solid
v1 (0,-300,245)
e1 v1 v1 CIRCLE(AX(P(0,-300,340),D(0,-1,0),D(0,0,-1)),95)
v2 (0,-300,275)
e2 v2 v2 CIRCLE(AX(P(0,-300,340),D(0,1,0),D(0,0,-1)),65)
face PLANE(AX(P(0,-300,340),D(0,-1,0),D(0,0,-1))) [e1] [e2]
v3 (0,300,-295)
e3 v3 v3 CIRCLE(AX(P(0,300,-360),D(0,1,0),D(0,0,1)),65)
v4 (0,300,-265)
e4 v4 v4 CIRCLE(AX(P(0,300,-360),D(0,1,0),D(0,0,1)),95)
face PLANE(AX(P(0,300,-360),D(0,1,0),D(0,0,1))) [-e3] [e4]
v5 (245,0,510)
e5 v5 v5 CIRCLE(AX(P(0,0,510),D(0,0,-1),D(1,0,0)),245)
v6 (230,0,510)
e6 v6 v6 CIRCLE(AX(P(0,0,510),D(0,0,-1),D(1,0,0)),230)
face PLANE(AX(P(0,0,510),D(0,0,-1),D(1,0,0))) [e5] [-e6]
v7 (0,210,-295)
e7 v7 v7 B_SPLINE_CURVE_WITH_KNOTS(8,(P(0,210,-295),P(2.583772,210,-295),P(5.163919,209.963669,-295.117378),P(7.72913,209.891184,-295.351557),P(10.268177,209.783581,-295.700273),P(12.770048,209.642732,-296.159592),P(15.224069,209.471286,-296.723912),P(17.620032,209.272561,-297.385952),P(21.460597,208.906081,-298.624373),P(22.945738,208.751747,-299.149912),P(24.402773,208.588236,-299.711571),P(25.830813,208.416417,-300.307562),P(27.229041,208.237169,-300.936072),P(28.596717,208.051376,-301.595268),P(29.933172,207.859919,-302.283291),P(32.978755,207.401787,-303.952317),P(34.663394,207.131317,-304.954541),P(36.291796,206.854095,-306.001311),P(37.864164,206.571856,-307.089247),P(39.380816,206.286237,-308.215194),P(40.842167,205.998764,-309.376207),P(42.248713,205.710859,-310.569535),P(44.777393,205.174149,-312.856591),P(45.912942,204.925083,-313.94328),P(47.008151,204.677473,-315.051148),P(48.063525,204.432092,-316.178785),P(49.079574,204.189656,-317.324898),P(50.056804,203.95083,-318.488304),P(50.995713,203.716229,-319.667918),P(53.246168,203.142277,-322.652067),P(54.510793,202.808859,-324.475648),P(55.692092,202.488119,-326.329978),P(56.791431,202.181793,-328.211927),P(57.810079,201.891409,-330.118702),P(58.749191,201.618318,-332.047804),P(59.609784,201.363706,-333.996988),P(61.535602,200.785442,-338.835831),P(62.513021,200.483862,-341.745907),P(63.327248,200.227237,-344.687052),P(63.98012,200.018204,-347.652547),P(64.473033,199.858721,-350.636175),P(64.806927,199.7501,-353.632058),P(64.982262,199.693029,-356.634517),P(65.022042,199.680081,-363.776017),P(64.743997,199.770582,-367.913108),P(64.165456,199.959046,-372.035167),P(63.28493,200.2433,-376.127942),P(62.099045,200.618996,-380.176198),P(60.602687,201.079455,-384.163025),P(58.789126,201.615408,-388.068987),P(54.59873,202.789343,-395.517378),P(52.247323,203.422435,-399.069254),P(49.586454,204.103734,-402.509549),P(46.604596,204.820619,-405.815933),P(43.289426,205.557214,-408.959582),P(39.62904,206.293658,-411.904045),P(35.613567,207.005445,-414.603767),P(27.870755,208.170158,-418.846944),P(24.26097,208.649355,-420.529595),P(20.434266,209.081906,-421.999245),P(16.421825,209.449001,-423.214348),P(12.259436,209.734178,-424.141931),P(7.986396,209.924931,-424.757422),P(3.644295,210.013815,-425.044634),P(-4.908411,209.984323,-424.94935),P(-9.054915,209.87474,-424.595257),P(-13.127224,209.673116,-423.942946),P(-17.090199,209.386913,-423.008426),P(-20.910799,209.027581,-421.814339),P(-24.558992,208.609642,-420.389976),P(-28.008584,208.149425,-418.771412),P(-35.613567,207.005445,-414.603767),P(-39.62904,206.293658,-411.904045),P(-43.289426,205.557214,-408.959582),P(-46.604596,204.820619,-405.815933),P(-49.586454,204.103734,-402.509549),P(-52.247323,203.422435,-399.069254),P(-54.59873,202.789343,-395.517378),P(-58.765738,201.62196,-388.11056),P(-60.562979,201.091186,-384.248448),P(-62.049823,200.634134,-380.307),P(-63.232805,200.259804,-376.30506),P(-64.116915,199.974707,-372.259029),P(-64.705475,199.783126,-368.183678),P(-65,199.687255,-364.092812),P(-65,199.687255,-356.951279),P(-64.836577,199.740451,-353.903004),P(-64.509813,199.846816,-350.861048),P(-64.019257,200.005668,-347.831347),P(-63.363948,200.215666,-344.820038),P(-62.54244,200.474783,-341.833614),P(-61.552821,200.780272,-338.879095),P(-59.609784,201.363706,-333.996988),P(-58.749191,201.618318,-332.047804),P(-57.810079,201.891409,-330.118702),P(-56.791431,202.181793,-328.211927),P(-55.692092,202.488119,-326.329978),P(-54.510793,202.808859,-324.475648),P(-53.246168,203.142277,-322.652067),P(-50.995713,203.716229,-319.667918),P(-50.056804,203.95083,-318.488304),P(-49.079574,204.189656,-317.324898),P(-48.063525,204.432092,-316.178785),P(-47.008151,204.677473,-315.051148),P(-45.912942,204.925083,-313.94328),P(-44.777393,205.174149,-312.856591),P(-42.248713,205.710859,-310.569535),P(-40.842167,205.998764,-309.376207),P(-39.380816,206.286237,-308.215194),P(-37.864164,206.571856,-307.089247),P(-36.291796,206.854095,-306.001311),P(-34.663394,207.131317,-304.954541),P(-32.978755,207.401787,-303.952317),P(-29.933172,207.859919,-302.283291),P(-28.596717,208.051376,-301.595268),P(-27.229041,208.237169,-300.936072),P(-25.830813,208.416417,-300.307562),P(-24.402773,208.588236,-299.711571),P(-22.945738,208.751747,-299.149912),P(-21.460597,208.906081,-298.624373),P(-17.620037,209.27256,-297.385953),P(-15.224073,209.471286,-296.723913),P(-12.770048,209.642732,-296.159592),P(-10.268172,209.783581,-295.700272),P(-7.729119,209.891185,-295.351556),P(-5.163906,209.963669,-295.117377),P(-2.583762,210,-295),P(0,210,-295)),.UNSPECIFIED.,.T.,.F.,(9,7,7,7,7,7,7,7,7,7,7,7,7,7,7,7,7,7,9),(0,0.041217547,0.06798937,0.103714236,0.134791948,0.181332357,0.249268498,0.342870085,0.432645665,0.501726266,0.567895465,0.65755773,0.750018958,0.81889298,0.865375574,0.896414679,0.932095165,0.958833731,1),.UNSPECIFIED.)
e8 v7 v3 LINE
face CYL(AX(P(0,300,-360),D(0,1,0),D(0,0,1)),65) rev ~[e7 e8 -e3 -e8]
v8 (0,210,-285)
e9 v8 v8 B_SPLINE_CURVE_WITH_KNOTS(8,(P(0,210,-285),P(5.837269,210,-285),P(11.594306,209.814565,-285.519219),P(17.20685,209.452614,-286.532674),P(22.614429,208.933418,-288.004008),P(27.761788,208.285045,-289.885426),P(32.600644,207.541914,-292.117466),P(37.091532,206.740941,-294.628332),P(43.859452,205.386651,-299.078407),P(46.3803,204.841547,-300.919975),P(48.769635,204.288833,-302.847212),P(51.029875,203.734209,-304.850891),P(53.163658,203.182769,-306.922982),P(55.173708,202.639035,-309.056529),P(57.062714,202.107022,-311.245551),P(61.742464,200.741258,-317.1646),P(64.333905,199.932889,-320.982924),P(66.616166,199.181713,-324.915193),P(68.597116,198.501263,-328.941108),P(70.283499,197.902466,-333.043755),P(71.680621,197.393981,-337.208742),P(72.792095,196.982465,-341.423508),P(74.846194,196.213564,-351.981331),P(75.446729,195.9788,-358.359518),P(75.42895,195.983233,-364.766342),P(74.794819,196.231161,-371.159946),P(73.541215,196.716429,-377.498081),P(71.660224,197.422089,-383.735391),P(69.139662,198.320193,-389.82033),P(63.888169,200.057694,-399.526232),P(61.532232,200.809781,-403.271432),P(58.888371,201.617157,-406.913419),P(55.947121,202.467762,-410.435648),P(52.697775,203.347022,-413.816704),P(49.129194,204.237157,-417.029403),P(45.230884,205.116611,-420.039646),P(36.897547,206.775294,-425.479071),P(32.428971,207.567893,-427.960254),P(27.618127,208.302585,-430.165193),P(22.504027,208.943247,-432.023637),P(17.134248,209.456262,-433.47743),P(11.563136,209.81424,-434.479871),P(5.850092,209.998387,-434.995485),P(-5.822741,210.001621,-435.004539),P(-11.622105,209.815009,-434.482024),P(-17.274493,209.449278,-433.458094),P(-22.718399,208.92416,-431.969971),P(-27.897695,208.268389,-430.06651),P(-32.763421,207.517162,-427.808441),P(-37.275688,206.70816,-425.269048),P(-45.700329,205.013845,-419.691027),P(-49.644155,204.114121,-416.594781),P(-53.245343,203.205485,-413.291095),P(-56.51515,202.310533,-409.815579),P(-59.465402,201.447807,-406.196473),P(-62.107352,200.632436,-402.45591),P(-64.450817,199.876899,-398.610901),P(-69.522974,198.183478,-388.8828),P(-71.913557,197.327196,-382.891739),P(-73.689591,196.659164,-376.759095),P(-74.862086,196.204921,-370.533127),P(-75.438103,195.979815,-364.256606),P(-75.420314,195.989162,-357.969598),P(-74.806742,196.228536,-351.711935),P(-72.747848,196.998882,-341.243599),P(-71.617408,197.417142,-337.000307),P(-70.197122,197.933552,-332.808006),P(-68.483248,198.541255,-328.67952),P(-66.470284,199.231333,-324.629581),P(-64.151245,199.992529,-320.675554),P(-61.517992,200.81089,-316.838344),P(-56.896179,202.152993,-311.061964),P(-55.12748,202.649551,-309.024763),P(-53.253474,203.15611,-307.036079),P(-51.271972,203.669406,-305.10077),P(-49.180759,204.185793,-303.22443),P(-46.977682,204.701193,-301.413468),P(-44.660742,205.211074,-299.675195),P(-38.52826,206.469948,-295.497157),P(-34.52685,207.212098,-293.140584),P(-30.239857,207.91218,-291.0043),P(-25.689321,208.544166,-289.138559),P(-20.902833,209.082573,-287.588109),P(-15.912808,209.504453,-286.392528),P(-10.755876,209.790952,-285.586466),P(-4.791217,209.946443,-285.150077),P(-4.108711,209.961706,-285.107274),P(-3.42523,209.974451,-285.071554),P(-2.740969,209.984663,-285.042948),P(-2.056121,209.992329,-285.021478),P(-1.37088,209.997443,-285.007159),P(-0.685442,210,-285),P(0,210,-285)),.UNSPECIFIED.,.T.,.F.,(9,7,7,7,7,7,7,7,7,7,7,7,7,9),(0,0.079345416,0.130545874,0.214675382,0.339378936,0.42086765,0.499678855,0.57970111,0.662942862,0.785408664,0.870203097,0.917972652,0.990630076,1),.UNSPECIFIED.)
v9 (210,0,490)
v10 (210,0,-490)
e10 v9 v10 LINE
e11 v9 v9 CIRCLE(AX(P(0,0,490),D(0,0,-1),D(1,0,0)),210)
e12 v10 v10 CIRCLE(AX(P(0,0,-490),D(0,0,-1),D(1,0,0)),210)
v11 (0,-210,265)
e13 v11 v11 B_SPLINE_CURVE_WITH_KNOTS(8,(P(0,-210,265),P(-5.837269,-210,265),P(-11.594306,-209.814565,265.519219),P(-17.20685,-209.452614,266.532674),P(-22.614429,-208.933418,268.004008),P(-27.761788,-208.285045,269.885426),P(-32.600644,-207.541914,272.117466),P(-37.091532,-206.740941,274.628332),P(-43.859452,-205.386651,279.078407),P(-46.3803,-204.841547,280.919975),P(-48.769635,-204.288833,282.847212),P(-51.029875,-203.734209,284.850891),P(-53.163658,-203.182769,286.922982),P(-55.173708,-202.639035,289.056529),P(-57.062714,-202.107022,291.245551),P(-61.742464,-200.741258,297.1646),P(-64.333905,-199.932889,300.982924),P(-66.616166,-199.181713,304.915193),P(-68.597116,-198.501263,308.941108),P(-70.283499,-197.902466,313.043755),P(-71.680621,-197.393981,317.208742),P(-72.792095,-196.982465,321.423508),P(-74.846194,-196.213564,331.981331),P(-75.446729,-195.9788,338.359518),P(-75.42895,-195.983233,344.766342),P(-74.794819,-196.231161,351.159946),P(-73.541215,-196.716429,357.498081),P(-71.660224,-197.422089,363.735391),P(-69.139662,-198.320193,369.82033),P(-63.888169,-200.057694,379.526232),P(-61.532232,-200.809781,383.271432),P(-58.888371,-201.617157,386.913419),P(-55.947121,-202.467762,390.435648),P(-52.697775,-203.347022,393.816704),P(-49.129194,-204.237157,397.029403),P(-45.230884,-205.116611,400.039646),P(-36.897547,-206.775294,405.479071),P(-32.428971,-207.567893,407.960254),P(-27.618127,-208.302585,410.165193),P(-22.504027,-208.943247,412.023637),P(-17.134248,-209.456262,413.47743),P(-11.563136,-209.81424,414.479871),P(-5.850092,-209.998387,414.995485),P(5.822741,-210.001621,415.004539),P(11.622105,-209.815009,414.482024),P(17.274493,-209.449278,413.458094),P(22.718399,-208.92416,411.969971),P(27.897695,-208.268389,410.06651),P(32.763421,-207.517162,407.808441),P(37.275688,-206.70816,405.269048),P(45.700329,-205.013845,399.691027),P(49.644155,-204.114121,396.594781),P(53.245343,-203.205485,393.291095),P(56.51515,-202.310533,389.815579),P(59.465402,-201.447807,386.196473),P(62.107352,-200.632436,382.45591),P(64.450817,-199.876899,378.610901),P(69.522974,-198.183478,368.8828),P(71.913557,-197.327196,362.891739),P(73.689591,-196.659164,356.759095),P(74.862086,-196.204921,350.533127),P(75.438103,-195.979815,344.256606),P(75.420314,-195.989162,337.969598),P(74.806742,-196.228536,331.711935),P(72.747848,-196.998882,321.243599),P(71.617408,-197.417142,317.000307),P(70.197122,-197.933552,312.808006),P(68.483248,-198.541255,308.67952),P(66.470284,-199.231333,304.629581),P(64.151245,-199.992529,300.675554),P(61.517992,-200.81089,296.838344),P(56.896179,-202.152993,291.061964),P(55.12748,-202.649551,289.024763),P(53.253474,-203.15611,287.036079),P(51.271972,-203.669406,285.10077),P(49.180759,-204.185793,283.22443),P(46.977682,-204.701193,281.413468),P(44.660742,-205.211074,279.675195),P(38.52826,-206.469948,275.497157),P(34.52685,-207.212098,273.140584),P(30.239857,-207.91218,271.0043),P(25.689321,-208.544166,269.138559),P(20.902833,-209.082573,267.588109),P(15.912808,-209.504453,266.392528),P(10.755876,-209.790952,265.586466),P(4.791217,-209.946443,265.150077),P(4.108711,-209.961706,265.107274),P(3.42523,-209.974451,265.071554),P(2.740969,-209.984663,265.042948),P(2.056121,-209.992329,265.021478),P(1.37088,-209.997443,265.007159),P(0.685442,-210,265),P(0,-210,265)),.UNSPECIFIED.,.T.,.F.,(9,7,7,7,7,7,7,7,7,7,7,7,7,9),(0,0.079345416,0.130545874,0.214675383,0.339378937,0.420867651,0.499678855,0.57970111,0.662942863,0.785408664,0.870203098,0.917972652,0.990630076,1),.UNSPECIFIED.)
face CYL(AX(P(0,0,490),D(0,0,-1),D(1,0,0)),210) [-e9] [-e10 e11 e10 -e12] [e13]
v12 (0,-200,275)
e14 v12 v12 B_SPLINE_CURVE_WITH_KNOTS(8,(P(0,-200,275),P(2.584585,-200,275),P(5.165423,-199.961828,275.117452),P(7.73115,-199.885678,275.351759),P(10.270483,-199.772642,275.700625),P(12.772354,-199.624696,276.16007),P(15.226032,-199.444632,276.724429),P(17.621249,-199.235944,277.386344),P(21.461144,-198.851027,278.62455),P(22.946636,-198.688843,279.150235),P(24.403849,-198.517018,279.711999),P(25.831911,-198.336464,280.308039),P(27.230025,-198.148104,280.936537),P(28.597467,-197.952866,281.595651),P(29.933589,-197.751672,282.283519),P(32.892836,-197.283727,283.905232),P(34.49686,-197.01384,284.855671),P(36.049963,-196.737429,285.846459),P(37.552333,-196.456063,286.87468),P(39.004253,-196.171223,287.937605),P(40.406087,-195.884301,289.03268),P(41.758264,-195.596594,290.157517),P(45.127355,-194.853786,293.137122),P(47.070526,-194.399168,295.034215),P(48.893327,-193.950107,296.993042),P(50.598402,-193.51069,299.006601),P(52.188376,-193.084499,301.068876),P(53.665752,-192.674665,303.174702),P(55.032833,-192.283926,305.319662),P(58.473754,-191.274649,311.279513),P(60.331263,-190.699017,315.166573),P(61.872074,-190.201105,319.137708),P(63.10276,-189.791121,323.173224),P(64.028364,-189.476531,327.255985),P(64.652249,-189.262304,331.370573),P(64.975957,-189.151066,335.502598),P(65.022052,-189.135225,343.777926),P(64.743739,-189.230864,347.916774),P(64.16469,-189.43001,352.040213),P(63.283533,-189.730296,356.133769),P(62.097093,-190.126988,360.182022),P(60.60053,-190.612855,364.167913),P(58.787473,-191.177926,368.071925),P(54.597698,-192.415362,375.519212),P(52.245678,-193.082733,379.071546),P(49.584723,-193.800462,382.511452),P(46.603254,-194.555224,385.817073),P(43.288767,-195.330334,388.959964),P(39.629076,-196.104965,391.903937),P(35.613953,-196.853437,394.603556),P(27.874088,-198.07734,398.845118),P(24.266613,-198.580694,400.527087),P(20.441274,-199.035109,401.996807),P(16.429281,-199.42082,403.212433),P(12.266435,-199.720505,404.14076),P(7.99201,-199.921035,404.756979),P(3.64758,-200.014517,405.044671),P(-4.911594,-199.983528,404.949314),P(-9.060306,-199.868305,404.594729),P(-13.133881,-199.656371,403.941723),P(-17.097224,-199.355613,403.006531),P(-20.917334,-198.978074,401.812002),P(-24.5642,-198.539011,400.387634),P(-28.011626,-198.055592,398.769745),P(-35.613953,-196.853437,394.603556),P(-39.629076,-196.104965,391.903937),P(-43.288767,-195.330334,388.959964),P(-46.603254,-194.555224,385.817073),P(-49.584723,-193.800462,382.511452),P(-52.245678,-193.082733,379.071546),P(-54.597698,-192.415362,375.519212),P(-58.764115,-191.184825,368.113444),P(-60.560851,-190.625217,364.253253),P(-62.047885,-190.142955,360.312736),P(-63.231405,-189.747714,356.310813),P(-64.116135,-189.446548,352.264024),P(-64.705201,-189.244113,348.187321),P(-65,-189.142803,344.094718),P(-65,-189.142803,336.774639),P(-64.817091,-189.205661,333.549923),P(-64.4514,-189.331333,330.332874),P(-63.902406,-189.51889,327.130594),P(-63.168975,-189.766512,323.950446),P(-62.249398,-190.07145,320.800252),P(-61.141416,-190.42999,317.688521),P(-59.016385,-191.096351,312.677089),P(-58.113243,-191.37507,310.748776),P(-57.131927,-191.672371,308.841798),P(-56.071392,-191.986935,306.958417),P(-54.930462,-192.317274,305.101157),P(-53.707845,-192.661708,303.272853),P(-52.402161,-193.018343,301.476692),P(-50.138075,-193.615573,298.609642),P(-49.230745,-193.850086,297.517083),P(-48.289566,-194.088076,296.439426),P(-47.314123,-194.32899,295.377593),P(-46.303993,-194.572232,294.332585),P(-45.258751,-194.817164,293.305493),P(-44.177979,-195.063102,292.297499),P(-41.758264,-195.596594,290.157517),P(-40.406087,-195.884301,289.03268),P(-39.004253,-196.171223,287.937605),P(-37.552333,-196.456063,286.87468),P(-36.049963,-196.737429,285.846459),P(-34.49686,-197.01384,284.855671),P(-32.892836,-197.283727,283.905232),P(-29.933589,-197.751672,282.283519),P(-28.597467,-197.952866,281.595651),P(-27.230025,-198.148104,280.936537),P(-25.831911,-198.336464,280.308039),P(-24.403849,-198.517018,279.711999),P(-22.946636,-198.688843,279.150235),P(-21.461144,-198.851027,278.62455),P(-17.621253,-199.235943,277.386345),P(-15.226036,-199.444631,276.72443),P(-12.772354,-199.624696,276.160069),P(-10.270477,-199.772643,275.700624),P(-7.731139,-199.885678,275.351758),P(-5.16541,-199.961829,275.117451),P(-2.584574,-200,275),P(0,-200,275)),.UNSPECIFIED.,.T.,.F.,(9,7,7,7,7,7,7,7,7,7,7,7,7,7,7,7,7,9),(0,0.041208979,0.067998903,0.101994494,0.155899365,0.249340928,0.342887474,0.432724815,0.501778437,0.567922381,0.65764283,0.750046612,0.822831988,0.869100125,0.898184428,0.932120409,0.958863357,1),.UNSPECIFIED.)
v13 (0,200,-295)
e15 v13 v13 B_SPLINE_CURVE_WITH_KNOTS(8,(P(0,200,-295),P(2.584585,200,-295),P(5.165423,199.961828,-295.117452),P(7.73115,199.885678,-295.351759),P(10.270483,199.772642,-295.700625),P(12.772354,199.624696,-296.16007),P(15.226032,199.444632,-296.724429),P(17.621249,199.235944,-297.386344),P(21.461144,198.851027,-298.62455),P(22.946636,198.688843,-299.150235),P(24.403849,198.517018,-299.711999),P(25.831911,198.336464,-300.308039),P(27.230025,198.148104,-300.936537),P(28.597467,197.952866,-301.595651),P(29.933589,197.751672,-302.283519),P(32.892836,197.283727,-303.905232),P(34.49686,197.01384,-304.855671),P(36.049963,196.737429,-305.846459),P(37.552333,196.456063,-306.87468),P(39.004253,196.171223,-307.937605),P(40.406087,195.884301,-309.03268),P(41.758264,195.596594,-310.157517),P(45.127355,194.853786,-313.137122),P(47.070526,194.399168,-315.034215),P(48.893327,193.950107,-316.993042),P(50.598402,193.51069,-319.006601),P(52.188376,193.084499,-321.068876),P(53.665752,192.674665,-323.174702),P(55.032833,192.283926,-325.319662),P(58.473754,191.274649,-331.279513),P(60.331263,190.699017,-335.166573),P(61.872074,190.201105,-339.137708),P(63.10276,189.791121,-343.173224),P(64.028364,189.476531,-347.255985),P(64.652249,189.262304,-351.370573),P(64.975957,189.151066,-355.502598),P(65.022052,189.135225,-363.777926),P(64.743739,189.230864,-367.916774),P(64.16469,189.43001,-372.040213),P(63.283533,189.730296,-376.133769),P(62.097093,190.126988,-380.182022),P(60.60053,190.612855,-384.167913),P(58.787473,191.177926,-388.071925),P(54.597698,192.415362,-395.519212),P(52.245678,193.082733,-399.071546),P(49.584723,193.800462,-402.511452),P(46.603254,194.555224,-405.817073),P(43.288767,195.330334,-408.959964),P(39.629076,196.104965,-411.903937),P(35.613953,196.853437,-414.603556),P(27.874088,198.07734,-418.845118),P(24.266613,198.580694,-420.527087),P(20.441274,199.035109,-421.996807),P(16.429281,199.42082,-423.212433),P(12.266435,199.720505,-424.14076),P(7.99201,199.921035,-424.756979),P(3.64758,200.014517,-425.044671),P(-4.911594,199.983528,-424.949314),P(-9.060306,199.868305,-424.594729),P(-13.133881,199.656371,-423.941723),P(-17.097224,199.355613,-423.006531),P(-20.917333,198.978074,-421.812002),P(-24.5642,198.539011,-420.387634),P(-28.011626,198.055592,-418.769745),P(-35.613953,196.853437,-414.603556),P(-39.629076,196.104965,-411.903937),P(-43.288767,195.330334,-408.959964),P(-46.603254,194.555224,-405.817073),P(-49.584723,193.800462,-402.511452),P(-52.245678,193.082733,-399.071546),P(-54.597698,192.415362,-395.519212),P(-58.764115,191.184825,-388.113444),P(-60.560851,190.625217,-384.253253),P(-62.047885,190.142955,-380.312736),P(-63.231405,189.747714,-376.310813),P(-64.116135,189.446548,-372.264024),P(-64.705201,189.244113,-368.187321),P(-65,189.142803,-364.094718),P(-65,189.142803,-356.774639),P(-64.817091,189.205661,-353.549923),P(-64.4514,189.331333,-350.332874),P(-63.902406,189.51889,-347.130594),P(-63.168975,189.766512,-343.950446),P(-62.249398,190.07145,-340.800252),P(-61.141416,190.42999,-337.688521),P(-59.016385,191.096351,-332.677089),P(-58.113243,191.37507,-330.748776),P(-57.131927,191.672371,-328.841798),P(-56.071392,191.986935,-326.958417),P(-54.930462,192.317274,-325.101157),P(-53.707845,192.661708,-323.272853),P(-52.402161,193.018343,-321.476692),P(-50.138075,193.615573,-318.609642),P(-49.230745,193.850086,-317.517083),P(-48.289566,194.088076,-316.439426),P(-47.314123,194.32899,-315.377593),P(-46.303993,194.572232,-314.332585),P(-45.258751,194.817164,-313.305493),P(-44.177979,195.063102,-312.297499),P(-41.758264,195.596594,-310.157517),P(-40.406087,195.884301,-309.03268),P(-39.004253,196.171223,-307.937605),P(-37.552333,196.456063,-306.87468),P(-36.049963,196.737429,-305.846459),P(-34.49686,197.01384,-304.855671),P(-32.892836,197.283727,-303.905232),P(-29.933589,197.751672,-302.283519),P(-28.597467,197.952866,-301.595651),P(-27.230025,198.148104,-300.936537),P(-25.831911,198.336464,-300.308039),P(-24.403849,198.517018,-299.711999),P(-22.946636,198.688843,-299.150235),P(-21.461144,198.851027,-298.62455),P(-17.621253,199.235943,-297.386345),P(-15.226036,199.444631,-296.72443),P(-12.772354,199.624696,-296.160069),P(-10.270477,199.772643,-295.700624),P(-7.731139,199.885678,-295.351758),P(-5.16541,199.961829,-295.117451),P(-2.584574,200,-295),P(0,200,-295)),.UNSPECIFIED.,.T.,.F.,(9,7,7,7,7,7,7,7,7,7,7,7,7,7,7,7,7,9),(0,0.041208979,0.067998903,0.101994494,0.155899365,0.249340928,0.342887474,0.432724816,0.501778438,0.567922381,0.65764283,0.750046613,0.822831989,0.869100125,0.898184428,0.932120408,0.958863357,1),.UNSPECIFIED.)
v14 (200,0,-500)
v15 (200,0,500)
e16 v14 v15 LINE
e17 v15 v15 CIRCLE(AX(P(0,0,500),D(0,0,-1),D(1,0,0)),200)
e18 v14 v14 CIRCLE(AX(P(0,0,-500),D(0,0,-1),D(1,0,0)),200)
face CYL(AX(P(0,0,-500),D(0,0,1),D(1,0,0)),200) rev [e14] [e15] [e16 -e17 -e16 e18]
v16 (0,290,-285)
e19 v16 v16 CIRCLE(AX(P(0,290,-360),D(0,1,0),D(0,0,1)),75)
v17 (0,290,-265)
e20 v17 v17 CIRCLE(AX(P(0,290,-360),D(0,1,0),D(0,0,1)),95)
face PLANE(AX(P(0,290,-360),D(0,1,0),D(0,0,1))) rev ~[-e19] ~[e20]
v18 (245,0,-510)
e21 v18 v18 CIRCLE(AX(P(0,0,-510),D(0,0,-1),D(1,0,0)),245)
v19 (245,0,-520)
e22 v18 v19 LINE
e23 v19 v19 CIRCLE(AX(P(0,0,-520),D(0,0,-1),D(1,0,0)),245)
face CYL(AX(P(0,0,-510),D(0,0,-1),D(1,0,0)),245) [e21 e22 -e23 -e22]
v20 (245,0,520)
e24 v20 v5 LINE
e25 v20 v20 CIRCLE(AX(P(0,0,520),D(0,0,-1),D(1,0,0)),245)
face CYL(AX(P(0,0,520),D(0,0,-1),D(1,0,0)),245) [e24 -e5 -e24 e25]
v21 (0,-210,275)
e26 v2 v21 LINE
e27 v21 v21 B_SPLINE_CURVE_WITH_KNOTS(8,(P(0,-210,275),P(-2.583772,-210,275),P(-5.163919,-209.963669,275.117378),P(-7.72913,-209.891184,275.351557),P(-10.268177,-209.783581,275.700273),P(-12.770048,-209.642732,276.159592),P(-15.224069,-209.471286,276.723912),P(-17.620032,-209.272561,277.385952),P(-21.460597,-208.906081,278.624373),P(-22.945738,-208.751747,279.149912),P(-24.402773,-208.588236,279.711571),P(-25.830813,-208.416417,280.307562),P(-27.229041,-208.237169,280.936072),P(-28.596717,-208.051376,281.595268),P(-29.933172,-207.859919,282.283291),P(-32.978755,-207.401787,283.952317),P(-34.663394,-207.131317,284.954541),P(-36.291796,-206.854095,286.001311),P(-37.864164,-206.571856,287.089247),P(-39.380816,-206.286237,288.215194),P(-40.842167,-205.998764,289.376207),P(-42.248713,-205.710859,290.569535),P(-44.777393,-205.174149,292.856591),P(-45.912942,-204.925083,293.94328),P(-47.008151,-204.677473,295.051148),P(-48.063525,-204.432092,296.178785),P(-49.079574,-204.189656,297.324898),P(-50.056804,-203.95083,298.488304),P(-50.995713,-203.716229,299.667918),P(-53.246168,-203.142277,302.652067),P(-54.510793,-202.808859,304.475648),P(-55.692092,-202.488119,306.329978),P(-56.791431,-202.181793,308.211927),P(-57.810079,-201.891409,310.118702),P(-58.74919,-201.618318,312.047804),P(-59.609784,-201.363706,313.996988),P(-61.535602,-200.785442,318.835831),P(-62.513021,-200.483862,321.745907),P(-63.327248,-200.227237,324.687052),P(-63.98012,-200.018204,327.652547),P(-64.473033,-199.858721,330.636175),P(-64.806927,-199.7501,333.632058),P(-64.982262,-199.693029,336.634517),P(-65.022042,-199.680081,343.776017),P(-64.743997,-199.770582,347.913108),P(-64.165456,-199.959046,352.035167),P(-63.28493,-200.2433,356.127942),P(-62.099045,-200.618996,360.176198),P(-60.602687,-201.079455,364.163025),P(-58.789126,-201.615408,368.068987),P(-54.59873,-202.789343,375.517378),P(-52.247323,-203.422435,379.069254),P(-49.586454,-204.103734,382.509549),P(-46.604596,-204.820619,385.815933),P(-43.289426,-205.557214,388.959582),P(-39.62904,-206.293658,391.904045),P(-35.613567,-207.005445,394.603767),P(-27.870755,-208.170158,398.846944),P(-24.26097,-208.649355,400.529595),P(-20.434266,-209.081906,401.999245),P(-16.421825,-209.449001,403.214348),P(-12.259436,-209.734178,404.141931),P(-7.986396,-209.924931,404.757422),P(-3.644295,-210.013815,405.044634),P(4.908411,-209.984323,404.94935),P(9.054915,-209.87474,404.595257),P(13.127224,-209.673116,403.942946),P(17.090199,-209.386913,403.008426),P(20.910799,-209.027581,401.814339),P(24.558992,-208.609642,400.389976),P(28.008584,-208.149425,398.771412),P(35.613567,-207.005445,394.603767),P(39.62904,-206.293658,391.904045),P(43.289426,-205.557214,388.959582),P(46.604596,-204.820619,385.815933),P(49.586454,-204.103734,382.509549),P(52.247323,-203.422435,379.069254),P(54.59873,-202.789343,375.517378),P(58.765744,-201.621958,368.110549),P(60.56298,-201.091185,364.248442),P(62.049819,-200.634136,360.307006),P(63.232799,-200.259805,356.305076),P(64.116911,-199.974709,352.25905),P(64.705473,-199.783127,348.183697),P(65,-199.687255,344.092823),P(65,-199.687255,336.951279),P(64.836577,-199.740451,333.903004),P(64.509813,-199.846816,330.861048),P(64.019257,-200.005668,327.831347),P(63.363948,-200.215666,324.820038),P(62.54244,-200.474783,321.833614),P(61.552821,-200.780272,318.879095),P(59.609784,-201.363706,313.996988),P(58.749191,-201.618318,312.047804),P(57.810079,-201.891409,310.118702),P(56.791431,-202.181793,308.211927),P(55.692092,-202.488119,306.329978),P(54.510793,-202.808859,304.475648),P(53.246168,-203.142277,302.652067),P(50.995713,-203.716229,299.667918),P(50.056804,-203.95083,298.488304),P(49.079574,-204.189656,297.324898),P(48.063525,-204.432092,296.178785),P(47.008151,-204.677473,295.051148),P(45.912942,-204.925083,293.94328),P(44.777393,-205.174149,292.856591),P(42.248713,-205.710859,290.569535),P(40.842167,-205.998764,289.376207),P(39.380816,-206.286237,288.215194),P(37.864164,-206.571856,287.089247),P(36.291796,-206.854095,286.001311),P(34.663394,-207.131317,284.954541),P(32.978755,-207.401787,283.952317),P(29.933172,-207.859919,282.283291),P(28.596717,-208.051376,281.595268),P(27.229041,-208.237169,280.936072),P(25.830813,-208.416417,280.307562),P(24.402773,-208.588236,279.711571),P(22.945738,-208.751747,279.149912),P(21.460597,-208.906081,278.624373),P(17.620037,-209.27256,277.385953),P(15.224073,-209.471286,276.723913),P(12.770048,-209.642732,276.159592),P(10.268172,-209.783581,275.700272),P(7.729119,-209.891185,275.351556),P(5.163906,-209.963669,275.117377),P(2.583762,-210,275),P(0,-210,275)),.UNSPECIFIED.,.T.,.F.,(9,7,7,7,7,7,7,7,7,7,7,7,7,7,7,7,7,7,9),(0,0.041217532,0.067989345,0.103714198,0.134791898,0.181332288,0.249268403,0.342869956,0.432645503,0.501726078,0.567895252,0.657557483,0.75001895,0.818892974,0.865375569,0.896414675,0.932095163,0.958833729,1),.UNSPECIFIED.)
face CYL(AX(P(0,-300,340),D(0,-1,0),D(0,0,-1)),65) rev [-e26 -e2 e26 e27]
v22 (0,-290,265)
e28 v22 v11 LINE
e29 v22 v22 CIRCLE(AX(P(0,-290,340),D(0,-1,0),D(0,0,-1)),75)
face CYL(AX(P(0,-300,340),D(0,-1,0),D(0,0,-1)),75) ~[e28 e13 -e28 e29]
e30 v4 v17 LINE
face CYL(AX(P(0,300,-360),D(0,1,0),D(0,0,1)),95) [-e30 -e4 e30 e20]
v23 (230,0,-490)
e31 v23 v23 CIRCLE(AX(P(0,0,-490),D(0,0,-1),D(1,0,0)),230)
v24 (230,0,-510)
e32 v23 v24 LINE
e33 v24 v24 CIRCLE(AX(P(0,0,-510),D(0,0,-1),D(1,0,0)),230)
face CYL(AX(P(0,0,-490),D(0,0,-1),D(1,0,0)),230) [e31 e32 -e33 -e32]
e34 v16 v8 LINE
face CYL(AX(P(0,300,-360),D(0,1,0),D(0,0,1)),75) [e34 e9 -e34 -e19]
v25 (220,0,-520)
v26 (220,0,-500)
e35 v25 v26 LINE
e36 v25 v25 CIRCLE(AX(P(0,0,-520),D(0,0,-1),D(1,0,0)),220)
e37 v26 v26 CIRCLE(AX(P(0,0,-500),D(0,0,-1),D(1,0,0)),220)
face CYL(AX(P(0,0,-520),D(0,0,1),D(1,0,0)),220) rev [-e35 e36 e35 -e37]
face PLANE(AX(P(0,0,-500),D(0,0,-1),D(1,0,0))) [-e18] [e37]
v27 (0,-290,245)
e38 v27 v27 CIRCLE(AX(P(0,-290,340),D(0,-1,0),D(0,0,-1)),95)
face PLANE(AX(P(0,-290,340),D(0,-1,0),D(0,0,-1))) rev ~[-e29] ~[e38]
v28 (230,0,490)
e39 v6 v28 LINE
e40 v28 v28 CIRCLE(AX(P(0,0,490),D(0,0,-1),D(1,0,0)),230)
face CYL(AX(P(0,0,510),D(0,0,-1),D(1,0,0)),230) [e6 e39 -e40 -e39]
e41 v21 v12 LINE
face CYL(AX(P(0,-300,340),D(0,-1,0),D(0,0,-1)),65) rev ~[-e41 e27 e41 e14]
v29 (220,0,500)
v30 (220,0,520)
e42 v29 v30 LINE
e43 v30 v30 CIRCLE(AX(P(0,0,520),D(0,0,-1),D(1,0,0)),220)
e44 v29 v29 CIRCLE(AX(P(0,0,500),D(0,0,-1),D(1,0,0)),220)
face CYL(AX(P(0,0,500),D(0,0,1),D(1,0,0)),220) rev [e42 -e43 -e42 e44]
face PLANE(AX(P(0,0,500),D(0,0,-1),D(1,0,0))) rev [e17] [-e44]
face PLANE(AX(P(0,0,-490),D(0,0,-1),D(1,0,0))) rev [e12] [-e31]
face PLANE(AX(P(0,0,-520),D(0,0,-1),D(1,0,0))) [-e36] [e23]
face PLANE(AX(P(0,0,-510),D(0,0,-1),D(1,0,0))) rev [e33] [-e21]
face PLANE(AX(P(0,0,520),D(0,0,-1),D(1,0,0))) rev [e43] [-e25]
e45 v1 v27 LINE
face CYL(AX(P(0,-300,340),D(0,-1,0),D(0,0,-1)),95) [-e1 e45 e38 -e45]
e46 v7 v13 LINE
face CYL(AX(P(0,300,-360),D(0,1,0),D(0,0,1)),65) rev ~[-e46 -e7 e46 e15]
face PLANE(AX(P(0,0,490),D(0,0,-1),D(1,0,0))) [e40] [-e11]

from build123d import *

# Parameters (mm, degrees)
BOSS_EXTRUDE4_REACH      = 926.86
BOSS_EXTRUDE4_END_RADIUS = 210
BOSS_EXTRUDE4_START      = 300
SKETCH3_R                = 75
SKETCH3_R_2              = 65
CUT_EXTRUDE2_REACH       = 794.117
SKETCH4_R                = 65
SKETCH6_R                = 95
SKETCH6_R_2              = 65
BOSS_EXTRUDE5_DEPTH      = 10
BOSS_EXTRUDE7_REACH      = 832.918
BOSS_EXTRUDE7_END_RADIUS = 210
SKETCH8_R                = 75
SKETCH8_R_2              = 65
CUT_EXTRUDE3_REACH       = 832.918
SKETCH9_R                = 65
SKETCH10_R               = 95
SKETCH10_R_2             = 75
BOSS_EXTRUDE8_DEPTH      = 10


with BuildPart() as part:
    # Sketch1 → Revolve1 (revolve)
    with BuildSketch(Plane(origin=(0, 0, 0), x_dir=(0, 0, -1), z_dir=(1, 0, 0)), mode=Mode.PRIVATE) as revolve1_sk:
        Polygon((500, 200), (-500, 200), (-500, 220), (-520, 220), (-520, 245), (-510, 245), (-510, 230), (-490, 230), (-490, 210), (490, 210), (490, 230), (510, 230), (510, 245), (520, 245), (520, 220), (500, 220), align=None)
    revolve(revolve1_sk.sketch.rotate(Axis((0, 0, 500), (0, 0, -1)), 90), axis=Axis((0, 0, 500), (0, 0, -1)))

    # Boss-Extrude4: up to this cylinder (the profile starts outside it)
    boss_extrude4_end = Plane(origin=(0, 0, -432.87868), z_dir=(0, 0, 1)) * Cylinder(BOSS_EXTRUDE4_END_RADIUS, 2274.72, mode=Mode.PRIVATE)
    # Sketch3 → Boss-Extrude4 (add, up to the surface)
    with BuildSketch(Plane(origin=(0, 0, 0), x_dir=(1, 0, 0), z_dir=(0, 1, 0)).offset(BOSS_EXTRUDE4_START), mode=Mode.PRIVATE) as boss_extrude4_sk1:
        with Locations(Location((0, 360, 0), (0, 0, 270))):
            Circle(SKETCH3_R)
        with Locations(Location((0, 360, 0), (0, 0, 270))):
            Circle(SKETCH3_R_2, mode=Mode.SUBTRACT)
    boss_extrude4_tool1 = extrude(boss_extrude4_sk1.sketch, amount=-BOSS_EXTRUDE4_REACH, mode=Mode.PRIVATE) - boss_extrude4_end
    add(boss_extrude4_tool1.solids().sort_by_distance((0, 300, -432.87868))[0])

    # Sketch4 → Cut-Extrude2 (cut, up to next)
    with BuildSketch(Plane(origin=(0, 300, 0), x_dir=(1, 0, 0), z_dir=(0, 1, 0)), mode=Mode.PRIVATE) as cut_extrude2_sk1:
        with Locations(Location((0, 360, 0), (0, 0, 270))):
            Circle(SKETCH4_R)
    cut_extrude2_tool1 = extrude(cut_extrude2_sk1.sketch, amount=-CUT_EXTRUDE2_REACH, mode=Mode.PRIVATE) & part.part
    add(cut_extrude2_tool1.solids().sort_by_distance((0, 300, -360))[0], mode=Mode.SUBTRACT)

    # Sketch6 → Boss-Extrude5 (add)
    with BuildSketch(Plane(origin=(0, 300, 0), x_dir=(1, 0, 0), z_dir=(0, 1, 0))):
        with Locations(Location((0, 360, 0), (0, 0, 270))):
            Circle(SKETCH6_R)
        with Locations(Location((0, 360, 0), (0, 0, 270))):
            Circle(SKETCH6_R_2, mode=Mode.SUBTRACT)
    extrude(amount=-BOSS_EXTRUDE5_DEPTH)

    # Boss-Extrude7: up to this cylinder (the profile starts outside it)
    boss_extrude7_end = Plane(origin=(0, 0, 412.87868), z_dir=(0, 0, 1)) * Cylinder(BOSS_EXTRUDE7_END_RADIUS, 2086.836, mode=Mode.PRIVATE)
    # Sketch8 → Boss-Extrude7 (add, up to the surface)
    with BuildSketch(Plane(origin=(0, -300, 0), x_dir=(1, 0, 0), z_dir=(0, 1, 0)), mode=Mode.PRIVATE) as boss_extrude7_sk1:
        with Locations(Location((0, -340, 0), (0, 0, 90))):
            Circle(SKETCH8_R)
        with Locations(Location((0, -340, 0), (0, 0, 90))):
            Circle(SKETCH8_R_2, mode=Mode.SUBTRACT)
    boss_extrude7_tool1 = extrude(boss_extrude7_sk1.sketch, amount=BOSS_EXTRUDE7_REACH, mode=Mode.PRIVATE) - boss_extrude7_end
    add(boss_extrude7_tool1.solids().sort_by_distance((0, -300, 412.87868))[0])

    # Sketch9 → Cut-Extrude3 (cut, up to next)
    with BuildSketch(Plane.XZ.offset(300), mode=Mode.PRIVATE) as cut_extrude3_sk1:
        with Locations(Location((0, 340, 0), (0, 0, 270))):
            Circle(SKETCH9_R)
    cut_extrude3_tool1 = extrude(cut_extrude3_sk1.sketch, amount=-CUT_EXTRUDE3_REACH, mode=Mode.PRIVATE) & part.part
    add(cut_extrude3_tool1.solids().sort_by_distance((0, -300, 340))[0], mode=Mode.SUBTRACT)

    # Sketch10 → Boss-Extrude8 (add)
    with BuildSketch(Plane.XZ.offset(300)):
        with Locations(Location((0, 340, 0), (0, 0, 270))):
            Circle(SKETCH10_R)
        with Locations(Location((0, 340, 0), (0, 0, 270))):
            Circle(SKETCH10_R_2, mode=Mode.SUBTRACT)
    extrude(amount=-BOSS_EXTRUDE8_DEPTH)


solid = part.part
